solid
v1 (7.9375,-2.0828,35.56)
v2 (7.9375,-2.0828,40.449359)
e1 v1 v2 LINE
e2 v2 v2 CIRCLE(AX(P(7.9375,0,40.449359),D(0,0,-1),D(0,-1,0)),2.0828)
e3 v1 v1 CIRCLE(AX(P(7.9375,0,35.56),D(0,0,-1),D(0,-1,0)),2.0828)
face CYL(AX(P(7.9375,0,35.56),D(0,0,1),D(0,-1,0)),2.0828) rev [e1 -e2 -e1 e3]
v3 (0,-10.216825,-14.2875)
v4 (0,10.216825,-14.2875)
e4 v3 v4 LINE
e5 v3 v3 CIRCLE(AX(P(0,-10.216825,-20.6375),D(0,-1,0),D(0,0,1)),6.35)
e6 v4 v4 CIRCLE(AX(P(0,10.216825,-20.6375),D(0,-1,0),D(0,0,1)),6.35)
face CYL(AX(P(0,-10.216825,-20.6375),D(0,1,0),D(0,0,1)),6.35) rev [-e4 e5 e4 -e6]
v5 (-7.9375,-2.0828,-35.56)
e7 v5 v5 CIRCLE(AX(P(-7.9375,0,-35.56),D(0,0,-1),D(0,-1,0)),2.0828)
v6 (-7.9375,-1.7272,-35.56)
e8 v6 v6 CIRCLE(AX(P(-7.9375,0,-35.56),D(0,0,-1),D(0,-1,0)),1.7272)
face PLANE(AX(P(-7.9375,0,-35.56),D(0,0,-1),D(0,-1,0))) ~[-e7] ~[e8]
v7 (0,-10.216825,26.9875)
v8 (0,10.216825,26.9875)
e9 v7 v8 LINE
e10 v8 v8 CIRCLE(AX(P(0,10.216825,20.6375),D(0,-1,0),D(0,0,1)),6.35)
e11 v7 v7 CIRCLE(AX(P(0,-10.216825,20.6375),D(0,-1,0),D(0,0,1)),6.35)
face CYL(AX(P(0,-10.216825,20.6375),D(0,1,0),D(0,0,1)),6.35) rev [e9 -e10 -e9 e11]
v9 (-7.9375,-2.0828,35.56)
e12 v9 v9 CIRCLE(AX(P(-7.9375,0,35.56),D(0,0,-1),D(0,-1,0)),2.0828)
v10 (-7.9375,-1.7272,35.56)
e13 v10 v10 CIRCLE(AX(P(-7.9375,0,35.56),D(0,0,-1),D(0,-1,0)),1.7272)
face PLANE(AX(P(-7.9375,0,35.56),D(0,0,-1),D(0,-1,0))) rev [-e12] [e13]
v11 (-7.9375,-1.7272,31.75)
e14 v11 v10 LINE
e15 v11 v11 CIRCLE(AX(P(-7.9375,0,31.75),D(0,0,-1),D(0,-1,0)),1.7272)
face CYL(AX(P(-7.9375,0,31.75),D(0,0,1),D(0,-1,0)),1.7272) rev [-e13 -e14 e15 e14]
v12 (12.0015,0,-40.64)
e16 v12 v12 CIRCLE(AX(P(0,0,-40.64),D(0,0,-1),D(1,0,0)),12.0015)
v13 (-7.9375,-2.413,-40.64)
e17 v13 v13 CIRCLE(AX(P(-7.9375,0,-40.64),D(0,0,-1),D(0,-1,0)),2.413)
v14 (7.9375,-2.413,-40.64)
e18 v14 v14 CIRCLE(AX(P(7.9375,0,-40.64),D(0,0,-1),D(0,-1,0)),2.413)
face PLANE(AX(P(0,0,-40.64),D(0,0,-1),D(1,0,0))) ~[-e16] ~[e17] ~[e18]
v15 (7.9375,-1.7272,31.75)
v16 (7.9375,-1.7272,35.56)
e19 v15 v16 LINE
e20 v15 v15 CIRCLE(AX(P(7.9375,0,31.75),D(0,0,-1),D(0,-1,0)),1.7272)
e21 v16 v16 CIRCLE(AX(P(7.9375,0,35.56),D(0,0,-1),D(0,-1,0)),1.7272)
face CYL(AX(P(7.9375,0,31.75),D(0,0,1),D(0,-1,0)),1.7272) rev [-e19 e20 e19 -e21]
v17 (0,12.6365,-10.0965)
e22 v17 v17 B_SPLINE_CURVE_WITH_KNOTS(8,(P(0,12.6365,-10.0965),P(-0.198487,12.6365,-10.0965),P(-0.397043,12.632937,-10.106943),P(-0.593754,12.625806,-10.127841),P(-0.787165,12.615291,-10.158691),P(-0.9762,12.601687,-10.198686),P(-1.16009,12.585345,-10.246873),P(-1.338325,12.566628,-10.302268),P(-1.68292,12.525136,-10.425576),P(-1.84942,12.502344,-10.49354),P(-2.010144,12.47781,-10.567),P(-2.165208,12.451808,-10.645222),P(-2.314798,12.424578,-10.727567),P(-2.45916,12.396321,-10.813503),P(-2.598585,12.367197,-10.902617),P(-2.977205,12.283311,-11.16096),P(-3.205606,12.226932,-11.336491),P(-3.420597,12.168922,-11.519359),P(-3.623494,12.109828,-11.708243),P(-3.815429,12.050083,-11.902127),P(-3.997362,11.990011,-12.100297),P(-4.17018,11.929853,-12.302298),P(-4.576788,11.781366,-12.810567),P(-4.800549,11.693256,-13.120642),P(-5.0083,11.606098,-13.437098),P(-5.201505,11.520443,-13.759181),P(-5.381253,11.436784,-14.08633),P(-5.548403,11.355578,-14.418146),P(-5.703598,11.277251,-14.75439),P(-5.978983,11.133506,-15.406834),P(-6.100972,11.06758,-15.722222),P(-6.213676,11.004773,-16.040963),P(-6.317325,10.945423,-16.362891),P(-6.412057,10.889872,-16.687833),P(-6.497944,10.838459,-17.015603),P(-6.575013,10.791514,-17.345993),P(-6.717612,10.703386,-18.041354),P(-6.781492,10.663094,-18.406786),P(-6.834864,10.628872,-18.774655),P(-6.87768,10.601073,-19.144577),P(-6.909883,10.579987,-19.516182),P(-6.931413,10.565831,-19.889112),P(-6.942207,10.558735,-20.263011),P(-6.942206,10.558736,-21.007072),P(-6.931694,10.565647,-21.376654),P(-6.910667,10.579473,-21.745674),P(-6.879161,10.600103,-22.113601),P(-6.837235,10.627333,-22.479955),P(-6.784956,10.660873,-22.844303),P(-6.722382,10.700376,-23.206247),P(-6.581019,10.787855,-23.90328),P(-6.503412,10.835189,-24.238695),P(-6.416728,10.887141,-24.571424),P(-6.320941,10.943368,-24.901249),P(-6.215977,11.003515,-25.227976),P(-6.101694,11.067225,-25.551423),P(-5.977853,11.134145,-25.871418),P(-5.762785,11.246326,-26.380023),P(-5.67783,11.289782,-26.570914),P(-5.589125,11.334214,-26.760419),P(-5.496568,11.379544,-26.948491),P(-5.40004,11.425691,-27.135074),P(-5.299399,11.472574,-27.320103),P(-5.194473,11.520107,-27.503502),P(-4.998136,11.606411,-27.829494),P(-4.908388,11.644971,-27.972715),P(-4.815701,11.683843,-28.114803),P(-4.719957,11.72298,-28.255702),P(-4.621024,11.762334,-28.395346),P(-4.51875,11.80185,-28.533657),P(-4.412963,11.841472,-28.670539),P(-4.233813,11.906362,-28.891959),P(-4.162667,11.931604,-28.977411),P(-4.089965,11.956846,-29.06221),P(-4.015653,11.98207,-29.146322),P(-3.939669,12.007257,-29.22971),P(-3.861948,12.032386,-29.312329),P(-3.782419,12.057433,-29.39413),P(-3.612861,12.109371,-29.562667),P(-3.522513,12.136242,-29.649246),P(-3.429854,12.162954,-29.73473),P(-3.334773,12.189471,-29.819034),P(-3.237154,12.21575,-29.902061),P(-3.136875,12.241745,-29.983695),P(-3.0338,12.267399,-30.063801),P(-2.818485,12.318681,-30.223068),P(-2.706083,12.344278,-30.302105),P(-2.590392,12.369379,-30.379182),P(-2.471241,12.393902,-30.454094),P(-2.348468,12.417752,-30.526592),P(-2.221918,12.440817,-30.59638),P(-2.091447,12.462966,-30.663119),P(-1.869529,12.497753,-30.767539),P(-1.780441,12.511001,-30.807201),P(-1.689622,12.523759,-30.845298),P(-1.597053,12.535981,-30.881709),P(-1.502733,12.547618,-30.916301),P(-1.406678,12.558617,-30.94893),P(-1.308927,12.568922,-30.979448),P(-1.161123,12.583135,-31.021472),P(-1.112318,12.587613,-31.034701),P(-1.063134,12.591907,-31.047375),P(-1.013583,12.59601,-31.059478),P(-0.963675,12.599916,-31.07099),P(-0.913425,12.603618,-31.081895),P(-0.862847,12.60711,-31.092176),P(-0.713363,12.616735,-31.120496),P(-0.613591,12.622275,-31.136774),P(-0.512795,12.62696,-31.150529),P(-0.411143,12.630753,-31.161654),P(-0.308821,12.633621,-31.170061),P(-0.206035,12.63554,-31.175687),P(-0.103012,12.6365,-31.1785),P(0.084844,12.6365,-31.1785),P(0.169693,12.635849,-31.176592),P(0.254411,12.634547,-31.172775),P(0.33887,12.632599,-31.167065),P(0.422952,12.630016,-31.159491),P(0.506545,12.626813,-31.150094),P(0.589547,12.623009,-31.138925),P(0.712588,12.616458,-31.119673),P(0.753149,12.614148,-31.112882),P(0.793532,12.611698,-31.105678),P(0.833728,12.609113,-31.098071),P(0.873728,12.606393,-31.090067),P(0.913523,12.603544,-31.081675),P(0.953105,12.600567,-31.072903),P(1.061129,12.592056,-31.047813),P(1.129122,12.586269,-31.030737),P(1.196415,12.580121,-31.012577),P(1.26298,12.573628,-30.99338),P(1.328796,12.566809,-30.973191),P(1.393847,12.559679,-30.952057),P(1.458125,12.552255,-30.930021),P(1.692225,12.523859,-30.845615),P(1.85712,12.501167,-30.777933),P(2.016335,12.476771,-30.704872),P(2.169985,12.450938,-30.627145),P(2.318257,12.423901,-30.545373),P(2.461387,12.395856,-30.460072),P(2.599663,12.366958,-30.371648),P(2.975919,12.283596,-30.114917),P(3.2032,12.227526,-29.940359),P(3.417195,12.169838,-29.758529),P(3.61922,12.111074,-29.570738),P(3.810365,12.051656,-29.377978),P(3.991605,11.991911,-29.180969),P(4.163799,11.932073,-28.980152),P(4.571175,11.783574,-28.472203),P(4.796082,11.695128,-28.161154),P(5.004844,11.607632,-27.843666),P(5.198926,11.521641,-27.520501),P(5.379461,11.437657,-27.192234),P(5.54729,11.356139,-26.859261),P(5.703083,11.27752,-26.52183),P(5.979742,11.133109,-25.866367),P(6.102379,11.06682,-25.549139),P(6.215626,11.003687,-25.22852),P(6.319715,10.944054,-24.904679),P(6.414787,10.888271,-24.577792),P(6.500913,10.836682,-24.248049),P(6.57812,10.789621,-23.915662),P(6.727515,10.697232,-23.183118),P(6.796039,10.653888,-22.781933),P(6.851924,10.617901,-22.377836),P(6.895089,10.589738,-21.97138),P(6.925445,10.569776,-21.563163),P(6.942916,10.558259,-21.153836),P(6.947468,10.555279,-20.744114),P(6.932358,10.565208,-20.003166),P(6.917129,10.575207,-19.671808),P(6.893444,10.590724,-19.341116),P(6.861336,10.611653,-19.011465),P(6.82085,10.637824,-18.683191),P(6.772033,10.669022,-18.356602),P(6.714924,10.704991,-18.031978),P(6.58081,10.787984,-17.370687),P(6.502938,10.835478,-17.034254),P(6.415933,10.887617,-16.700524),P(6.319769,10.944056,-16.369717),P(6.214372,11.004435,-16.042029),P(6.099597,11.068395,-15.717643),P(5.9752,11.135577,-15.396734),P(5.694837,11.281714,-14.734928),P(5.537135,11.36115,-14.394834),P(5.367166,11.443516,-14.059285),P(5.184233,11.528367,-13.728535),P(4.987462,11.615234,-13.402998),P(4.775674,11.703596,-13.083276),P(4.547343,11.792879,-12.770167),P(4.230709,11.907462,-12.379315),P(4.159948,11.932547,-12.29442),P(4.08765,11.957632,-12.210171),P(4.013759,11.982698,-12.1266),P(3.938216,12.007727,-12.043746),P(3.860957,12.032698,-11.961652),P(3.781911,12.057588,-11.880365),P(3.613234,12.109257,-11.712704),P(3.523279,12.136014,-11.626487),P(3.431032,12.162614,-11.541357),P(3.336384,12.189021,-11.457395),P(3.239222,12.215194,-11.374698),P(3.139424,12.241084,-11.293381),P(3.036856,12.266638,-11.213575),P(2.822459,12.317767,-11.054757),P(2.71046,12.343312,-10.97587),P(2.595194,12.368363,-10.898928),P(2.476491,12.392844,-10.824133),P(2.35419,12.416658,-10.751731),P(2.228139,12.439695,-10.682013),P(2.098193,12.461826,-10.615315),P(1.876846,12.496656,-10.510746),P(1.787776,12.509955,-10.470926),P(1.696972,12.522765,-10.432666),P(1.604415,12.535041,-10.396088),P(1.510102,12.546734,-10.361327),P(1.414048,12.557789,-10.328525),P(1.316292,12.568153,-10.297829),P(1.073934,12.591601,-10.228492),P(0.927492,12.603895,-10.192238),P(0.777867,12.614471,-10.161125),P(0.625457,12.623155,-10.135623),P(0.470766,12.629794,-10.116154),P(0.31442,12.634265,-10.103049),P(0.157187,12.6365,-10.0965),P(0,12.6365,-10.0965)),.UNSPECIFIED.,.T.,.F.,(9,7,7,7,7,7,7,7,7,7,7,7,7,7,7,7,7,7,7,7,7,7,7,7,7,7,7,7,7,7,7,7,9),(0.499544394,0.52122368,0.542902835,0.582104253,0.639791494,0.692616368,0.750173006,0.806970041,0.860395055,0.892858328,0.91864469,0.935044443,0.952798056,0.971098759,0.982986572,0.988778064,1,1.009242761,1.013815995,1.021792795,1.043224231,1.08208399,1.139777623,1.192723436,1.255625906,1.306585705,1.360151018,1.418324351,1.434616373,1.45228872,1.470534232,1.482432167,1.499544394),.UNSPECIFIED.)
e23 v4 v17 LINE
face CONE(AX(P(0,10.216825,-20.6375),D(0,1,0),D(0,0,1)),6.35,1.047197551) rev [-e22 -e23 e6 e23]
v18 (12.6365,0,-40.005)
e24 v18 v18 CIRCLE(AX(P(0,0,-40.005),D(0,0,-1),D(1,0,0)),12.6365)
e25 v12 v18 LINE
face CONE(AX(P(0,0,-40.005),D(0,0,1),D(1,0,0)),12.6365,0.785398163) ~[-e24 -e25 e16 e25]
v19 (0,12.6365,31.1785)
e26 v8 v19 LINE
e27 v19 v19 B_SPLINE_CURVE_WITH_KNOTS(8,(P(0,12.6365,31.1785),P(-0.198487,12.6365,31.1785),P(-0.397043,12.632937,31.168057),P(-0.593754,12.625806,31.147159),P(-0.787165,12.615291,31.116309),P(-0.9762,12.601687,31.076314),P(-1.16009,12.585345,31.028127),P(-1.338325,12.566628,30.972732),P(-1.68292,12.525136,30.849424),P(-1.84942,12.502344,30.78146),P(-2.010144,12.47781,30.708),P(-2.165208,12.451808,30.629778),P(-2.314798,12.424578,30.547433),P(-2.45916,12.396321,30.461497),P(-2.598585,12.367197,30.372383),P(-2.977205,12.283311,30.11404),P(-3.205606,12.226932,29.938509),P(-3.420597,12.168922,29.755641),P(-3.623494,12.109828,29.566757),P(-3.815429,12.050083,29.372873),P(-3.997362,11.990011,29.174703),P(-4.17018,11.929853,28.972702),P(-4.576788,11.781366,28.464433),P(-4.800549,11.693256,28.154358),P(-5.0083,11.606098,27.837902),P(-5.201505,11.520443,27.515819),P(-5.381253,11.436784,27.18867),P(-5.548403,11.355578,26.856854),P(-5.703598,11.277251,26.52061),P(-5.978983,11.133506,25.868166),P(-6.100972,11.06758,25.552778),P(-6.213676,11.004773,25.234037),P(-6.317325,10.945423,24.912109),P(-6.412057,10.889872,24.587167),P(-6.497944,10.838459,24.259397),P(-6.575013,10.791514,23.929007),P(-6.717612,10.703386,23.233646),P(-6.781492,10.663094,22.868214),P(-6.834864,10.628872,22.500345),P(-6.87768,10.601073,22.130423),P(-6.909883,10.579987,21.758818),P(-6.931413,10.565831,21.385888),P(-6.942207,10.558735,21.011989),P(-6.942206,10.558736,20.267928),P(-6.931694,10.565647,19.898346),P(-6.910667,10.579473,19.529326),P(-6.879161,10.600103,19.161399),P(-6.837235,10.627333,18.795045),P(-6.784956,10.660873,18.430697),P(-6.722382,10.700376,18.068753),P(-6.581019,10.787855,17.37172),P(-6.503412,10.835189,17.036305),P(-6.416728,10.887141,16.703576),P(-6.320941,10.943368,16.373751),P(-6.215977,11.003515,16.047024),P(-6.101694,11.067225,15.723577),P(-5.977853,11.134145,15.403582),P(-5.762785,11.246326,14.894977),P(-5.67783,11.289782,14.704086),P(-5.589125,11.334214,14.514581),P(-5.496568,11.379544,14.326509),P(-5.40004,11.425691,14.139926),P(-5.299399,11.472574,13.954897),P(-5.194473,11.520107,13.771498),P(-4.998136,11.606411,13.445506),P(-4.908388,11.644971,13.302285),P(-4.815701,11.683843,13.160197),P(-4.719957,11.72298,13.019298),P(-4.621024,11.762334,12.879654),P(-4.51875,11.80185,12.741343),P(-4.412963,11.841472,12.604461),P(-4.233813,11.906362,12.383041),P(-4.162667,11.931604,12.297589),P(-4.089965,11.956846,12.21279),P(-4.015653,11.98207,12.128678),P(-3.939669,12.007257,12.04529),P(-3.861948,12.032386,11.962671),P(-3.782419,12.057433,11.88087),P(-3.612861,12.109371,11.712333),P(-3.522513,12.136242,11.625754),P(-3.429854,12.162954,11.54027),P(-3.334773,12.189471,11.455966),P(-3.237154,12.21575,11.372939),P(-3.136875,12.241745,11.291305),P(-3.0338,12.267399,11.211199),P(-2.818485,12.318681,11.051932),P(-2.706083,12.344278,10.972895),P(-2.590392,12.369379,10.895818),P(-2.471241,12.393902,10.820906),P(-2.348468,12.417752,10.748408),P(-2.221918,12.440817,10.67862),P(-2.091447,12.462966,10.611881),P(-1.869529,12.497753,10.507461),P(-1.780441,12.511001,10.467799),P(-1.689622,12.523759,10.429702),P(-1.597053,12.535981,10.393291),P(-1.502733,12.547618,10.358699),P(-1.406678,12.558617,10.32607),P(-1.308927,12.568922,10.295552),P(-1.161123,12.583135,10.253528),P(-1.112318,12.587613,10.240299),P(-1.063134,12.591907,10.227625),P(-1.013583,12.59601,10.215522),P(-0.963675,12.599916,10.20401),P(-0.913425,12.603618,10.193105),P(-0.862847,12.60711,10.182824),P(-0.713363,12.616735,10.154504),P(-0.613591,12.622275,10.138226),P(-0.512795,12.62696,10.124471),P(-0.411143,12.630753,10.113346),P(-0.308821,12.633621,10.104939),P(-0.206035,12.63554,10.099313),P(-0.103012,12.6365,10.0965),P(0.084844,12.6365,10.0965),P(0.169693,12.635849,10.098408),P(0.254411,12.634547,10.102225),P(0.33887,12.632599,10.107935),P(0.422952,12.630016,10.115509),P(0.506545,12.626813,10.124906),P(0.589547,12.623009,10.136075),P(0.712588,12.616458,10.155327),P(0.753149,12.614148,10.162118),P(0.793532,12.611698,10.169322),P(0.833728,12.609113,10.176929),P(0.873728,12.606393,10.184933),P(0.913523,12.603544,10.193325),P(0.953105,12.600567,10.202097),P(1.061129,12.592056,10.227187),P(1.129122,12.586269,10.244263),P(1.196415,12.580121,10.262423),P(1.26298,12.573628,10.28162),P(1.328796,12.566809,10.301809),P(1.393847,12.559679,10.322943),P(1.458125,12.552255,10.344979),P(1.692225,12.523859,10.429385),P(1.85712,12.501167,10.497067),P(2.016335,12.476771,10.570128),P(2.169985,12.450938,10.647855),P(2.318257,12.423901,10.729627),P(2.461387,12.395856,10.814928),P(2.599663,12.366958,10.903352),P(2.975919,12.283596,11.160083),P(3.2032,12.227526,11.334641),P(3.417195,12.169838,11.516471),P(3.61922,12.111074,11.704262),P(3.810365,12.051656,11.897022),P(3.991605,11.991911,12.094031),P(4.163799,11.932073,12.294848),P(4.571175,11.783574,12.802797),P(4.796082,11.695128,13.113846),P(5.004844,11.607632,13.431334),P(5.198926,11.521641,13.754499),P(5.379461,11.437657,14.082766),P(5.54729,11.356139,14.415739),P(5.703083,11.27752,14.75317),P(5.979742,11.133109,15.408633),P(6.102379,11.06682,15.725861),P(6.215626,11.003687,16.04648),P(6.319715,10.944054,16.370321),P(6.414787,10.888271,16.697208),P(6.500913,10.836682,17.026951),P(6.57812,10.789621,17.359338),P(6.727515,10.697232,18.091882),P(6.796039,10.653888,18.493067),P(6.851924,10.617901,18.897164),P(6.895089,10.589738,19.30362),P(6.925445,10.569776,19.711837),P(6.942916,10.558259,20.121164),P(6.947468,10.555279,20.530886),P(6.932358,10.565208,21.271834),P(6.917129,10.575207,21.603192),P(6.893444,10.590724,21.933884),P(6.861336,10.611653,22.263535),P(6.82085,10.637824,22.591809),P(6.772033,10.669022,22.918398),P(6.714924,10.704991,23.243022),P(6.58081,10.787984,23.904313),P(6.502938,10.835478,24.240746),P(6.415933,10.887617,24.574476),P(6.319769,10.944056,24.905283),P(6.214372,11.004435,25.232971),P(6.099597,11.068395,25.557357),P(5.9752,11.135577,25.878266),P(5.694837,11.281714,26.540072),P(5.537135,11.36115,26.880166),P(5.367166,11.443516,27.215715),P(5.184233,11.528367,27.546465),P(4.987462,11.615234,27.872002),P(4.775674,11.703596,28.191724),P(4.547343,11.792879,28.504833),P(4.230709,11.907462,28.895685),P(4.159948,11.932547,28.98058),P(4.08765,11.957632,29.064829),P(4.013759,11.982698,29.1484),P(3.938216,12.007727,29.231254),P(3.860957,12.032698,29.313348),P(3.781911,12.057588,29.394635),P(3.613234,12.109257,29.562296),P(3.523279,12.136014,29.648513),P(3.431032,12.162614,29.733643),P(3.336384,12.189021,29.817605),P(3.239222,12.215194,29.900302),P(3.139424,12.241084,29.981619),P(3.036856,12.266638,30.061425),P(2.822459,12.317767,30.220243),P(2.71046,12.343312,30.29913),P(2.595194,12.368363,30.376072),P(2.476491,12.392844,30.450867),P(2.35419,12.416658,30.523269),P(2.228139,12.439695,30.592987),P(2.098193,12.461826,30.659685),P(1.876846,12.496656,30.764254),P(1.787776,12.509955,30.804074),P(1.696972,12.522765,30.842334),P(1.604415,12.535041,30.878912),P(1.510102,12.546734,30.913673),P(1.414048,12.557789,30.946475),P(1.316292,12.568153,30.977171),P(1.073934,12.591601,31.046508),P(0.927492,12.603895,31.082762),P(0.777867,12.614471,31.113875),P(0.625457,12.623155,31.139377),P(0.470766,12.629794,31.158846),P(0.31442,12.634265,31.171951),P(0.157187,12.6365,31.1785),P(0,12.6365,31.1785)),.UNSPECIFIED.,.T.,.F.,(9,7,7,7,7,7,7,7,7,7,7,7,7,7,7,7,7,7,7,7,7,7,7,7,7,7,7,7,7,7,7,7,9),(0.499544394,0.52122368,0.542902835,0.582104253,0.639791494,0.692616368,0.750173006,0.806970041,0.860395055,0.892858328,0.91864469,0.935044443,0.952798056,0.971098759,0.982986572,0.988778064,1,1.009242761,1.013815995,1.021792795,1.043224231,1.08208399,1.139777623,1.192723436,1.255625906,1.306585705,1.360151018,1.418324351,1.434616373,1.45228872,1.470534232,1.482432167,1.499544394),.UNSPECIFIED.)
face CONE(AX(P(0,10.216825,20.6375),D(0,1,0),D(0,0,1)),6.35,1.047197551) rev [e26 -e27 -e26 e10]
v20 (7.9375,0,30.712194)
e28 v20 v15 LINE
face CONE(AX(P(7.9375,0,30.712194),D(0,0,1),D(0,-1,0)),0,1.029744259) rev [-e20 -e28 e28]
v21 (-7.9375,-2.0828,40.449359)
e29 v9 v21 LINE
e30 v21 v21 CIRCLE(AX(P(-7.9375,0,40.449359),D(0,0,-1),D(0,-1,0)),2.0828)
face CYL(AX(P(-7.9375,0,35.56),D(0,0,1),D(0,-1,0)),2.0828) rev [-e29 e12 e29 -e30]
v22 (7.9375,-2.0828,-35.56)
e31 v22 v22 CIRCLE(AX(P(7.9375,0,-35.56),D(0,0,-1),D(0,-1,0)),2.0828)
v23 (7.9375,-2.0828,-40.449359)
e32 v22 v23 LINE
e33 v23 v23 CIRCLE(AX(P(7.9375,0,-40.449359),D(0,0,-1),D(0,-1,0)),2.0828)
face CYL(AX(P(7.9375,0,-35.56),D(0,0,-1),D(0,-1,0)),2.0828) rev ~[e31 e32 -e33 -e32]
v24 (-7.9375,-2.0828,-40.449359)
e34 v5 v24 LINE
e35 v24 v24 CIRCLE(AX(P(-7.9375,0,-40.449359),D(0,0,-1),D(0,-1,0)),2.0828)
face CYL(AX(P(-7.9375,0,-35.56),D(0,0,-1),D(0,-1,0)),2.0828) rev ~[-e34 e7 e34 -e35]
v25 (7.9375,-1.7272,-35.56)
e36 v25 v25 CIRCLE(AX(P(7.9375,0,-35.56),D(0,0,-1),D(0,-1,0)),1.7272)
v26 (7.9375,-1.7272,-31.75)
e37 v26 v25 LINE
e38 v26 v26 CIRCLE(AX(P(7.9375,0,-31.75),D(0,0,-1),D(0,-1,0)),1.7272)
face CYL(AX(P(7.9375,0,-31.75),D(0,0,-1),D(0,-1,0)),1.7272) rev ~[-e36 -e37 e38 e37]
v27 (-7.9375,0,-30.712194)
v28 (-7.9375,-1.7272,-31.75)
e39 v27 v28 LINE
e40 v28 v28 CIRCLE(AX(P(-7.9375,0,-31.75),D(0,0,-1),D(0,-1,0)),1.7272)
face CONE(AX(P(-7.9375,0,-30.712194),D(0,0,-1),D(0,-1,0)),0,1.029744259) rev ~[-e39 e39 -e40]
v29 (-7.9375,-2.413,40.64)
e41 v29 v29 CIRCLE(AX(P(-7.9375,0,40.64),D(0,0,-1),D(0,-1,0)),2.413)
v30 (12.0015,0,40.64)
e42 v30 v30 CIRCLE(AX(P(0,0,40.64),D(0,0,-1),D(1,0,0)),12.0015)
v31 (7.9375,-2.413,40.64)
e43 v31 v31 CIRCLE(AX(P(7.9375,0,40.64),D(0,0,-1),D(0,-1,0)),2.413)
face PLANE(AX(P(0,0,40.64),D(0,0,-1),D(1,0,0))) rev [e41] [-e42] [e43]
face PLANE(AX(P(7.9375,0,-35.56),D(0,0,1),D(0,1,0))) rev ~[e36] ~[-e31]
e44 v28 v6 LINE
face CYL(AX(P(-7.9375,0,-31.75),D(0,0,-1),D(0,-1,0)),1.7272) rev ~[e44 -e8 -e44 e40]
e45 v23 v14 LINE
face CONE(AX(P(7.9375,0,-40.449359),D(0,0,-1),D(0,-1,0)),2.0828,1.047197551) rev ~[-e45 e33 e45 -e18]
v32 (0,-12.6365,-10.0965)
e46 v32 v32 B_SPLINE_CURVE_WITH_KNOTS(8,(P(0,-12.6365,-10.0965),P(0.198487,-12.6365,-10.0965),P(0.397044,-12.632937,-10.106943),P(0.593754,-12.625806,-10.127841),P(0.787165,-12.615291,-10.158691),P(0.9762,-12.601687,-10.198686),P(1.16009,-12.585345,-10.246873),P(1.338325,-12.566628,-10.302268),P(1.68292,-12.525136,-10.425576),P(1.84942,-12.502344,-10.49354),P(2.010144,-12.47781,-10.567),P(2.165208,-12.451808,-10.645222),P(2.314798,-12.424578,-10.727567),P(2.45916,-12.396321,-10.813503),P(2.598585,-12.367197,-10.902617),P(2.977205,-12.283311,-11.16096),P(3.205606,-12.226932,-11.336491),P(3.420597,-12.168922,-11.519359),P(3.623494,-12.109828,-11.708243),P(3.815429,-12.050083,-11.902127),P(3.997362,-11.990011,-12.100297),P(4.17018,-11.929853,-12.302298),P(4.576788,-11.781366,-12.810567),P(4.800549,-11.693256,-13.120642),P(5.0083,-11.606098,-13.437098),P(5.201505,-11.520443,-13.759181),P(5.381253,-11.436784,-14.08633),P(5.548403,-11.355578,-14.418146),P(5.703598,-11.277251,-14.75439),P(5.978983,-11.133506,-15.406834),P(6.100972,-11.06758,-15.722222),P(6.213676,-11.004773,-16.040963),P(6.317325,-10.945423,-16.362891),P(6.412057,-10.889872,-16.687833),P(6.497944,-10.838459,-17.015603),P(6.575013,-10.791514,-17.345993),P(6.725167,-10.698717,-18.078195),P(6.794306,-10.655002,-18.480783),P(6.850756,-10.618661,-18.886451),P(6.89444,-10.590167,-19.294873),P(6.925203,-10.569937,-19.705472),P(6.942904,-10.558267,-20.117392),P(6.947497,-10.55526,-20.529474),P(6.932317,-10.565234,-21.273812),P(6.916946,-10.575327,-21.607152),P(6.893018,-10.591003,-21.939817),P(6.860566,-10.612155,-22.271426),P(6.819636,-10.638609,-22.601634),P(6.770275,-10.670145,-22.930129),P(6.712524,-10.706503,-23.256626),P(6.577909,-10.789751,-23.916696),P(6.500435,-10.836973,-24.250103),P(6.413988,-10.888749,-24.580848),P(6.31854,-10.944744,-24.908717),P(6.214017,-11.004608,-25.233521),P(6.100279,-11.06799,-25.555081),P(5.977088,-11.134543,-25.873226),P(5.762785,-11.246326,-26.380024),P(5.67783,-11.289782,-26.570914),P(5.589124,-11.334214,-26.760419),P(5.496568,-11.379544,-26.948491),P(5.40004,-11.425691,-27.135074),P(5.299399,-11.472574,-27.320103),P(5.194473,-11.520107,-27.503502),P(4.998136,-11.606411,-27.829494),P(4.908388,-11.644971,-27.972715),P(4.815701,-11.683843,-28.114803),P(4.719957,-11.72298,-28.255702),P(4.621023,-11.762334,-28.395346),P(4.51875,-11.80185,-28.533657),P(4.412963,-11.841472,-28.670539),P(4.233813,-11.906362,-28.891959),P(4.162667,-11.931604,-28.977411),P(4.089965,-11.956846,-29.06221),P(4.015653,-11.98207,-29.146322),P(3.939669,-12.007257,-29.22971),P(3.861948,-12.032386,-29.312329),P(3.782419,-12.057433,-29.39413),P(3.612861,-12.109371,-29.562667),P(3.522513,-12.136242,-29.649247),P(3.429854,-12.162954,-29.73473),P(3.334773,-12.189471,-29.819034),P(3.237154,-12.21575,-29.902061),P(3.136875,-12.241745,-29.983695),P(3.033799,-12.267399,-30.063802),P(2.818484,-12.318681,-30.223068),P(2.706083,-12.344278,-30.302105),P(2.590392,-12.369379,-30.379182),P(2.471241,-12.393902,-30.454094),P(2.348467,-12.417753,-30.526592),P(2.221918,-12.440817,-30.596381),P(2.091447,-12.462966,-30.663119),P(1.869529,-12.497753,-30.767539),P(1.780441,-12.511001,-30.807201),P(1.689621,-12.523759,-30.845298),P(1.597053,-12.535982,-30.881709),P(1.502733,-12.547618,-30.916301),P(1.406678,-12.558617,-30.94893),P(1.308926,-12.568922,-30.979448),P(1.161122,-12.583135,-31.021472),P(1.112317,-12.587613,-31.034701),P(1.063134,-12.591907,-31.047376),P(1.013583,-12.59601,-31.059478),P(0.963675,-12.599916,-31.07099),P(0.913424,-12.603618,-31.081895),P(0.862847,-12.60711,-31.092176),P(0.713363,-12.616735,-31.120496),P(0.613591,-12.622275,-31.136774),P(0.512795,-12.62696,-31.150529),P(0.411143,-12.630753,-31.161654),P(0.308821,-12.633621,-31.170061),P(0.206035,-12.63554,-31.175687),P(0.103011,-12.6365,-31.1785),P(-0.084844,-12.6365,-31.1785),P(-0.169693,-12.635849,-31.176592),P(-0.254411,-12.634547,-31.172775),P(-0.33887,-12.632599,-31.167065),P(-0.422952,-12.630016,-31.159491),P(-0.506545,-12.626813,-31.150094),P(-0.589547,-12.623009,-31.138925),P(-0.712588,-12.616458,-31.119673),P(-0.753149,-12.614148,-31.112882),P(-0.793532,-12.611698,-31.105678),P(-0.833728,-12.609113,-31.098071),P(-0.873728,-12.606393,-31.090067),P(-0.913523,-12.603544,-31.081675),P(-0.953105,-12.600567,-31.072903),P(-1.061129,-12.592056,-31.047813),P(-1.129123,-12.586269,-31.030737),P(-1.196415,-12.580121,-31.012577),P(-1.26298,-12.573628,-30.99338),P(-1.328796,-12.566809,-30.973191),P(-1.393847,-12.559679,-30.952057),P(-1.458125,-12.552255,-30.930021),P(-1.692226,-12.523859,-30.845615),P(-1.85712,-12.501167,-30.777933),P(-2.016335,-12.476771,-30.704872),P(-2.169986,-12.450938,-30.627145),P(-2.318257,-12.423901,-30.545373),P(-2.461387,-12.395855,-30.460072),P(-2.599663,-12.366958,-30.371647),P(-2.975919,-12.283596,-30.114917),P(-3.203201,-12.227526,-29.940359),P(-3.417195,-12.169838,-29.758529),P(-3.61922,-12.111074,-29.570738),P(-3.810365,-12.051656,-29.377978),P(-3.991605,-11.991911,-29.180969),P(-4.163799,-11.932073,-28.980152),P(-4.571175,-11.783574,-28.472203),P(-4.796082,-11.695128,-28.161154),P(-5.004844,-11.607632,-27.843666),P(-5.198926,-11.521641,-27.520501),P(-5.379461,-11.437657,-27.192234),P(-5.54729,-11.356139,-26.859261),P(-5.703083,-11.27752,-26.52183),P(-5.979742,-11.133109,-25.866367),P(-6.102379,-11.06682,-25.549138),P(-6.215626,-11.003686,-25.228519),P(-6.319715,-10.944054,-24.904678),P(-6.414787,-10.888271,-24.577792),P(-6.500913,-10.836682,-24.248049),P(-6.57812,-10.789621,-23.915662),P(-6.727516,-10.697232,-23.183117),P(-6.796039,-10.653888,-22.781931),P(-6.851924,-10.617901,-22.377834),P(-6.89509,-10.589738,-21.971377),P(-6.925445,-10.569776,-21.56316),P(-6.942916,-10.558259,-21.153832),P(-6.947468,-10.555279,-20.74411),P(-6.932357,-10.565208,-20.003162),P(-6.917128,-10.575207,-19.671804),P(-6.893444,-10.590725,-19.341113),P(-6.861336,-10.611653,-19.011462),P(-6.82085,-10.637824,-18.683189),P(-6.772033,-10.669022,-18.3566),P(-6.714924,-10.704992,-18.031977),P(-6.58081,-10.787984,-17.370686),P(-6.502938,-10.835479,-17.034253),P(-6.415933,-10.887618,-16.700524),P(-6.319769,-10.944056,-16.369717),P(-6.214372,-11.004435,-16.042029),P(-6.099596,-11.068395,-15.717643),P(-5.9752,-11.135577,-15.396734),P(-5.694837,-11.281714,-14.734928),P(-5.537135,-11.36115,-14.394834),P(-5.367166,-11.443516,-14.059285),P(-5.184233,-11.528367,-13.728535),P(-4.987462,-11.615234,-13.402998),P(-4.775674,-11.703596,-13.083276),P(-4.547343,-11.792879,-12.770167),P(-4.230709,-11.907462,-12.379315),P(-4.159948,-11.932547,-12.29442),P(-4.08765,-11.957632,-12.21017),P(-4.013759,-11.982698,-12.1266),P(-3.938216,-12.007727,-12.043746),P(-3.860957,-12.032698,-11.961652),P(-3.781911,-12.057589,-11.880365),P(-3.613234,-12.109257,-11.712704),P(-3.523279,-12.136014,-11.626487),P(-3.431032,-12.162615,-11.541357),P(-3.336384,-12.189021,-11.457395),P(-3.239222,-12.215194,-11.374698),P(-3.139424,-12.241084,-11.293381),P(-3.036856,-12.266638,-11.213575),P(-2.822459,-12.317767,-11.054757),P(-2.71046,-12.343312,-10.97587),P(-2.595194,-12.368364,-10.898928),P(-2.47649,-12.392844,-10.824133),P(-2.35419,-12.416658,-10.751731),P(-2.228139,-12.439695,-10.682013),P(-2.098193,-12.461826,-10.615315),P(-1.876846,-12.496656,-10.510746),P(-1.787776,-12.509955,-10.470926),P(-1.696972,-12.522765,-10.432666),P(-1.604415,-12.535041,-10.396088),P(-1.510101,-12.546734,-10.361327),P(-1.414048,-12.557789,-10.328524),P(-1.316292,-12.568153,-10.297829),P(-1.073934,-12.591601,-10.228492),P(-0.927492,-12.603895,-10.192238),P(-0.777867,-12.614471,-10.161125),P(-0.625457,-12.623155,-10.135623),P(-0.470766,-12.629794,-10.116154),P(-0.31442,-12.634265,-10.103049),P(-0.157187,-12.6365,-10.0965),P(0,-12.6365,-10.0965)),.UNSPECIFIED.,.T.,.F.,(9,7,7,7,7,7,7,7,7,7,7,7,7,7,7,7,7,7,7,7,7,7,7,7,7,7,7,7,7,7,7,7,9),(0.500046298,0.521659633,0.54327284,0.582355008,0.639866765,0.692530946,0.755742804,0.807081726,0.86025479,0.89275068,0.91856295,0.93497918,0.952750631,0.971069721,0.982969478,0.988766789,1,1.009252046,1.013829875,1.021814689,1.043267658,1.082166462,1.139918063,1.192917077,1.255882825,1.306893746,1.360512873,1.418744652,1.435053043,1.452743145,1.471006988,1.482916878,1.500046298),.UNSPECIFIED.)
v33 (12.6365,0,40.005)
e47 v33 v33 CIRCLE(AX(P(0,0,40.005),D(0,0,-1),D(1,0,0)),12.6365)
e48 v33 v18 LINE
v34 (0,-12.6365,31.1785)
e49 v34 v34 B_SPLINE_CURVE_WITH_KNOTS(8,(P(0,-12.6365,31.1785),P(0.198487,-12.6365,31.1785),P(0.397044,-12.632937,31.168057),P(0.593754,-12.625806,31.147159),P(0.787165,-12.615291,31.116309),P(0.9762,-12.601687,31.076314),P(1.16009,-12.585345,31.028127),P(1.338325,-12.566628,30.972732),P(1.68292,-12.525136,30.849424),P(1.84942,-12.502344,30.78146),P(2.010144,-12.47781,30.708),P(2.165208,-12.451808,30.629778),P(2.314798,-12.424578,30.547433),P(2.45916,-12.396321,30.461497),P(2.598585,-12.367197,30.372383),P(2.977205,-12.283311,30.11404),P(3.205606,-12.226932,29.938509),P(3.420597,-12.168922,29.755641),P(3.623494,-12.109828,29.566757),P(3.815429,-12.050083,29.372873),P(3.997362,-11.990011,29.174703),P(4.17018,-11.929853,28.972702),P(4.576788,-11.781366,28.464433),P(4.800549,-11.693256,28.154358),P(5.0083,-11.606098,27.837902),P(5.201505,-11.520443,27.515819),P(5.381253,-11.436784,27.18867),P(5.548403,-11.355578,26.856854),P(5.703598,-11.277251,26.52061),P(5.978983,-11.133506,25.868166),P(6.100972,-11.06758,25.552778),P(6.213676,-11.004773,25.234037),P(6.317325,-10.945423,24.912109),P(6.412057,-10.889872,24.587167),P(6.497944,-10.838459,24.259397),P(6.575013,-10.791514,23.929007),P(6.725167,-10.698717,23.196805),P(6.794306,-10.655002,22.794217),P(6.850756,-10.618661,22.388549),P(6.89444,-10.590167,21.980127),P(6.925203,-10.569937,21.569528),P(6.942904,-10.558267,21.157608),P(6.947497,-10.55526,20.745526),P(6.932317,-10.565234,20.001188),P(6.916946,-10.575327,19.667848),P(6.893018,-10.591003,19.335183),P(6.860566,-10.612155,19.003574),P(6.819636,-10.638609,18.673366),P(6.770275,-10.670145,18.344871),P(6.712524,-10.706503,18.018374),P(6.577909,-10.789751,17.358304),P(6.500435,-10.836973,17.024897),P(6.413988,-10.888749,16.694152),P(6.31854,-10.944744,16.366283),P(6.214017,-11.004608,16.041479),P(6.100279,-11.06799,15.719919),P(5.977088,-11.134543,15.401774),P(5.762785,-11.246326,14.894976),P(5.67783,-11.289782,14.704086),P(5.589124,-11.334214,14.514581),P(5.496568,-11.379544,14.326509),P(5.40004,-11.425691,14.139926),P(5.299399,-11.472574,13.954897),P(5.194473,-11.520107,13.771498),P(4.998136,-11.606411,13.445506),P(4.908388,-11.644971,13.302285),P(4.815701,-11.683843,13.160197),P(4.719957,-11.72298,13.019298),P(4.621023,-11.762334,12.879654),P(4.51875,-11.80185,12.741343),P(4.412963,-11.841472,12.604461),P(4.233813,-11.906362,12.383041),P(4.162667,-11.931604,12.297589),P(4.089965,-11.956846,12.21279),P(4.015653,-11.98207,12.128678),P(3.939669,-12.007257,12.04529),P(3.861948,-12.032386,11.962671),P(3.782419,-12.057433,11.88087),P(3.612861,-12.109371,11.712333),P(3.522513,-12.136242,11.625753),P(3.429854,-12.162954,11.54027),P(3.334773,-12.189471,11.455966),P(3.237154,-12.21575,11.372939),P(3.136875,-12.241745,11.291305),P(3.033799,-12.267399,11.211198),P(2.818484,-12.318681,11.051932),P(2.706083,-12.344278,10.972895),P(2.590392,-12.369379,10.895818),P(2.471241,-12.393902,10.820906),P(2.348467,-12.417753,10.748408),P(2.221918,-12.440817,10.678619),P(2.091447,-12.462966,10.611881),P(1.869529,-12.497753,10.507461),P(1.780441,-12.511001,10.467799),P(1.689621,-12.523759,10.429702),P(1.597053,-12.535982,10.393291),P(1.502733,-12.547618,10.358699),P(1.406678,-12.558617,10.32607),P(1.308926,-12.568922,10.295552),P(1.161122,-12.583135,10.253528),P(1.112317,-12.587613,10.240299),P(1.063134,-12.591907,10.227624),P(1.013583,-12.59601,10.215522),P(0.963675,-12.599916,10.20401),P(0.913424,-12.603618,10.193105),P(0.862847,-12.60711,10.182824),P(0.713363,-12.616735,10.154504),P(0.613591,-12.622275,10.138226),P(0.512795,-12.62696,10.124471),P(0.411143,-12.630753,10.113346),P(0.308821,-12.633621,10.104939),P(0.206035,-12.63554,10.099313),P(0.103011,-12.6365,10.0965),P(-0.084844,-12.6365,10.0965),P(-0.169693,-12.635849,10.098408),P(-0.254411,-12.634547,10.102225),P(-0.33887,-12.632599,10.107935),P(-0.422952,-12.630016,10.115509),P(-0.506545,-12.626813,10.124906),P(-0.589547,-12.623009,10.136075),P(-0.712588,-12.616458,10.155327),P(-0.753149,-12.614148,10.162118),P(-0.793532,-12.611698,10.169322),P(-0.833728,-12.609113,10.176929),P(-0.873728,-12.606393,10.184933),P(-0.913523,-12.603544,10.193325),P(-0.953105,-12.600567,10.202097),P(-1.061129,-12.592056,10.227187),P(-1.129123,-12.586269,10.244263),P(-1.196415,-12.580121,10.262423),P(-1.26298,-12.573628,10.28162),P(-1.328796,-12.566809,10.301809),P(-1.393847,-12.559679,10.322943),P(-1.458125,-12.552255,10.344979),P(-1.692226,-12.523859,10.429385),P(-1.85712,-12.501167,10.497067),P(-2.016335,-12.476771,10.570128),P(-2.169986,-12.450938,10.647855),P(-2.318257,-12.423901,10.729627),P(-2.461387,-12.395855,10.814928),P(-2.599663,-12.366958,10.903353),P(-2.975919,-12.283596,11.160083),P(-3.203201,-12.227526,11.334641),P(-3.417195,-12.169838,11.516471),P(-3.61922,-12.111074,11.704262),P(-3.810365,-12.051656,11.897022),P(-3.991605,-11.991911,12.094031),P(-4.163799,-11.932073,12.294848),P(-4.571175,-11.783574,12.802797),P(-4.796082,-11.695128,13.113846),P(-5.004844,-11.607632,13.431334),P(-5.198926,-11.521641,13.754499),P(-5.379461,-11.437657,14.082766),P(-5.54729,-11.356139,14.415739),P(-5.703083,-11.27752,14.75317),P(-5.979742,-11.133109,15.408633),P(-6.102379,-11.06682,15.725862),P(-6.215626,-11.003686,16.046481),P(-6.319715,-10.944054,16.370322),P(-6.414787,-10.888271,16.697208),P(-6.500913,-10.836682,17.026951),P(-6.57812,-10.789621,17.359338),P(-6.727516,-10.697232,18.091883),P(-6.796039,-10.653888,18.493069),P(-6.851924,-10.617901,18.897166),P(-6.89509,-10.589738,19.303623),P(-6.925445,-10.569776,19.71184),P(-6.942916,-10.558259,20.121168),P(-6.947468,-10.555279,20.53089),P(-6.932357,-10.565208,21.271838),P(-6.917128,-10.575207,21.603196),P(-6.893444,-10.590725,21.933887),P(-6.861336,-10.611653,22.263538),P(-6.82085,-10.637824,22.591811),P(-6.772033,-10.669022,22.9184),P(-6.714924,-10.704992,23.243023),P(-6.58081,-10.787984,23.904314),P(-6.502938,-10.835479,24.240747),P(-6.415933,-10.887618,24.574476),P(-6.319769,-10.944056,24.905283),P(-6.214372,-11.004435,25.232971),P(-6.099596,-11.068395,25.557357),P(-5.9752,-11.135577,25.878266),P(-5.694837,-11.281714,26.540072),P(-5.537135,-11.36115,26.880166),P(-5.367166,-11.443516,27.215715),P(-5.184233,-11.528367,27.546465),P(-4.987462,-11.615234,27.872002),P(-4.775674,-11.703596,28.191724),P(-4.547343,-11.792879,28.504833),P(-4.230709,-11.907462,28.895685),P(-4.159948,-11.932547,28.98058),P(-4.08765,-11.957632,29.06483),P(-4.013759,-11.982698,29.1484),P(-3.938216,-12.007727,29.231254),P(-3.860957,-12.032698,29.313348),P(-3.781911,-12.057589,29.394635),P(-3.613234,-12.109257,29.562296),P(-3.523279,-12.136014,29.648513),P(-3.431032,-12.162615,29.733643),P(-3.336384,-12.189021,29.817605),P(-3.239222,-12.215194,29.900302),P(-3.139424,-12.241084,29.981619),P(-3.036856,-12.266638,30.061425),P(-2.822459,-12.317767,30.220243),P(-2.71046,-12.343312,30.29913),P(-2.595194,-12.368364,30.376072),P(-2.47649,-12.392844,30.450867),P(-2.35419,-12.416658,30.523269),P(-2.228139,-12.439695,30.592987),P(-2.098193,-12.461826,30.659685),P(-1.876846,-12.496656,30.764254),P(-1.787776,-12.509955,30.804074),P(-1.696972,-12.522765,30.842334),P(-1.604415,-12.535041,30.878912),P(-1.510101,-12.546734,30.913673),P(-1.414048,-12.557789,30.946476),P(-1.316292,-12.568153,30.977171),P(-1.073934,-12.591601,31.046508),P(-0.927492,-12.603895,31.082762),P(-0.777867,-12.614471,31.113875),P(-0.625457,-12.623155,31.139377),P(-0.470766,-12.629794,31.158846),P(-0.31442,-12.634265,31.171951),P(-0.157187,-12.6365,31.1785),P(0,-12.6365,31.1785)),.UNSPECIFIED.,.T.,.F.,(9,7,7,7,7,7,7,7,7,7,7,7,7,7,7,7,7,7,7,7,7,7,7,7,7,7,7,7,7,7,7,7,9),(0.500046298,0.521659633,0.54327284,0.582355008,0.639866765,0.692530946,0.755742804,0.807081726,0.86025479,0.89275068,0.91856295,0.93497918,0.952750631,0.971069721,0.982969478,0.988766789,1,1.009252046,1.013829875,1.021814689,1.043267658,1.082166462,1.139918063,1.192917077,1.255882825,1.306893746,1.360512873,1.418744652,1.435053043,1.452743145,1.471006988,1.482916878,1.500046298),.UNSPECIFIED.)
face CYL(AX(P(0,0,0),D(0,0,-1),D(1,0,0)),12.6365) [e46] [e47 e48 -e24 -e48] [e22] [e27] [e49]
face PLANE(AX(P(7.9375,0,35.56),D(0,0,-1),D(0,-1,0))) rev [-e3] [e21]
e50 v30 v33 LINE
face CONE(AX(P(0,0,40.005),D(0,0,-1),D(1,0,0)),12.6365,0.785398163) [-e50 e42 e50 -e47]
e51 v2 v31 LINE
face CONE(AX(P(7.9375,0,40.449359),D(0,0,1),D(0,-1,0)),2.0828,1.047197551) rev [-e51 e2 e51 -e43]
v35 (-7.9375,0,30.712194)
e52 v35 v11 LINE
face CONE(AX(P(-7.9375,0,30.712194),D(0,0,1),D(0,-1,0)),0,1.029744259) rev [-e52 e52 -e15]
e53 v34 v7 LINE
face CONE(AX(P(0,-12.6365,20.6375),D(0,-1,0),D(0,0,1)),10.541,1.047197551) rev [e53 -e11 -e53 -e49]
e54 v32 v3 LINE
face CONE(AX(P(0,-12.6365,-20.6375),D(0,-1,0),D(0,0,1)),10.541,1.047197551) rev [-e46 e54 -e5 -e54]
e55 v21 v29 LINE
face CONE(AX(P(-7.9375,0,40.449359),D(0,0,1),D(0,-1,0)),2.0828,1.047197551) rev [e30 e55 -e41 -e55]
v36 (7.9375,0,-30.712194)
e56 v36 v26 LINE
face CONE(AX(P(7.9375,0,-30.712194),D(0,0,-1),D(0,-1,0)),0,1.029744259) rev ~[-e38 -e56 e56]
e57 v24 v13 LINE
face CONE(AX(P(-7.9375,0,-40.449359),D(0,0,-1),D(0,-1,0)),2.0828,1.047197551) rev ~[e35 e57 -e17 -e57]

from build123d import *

# Parameters (mm, degrees)
SKETCH1_W                      = 81.28
SKETCH1_H                      = 12.6365
CHAMFER1_SIZE                  = 0.635
LPATTERN3_COUNT                = 2
LPATTERN3_PITCH                = 41.275
F_8_32_TAPPED_HOLE1_AT_2_COUNT = 2
F_8_32_TAPPED_HOLE1_AT_2_PITCH = 15.875


with BuildPart() as part:
    # Sketch1 → Base-Revolve (revolve)
    with BuildSketch(Plane(origin=(0, 0, 0), x_dir=(0, 0, -1), z_dir=(1, 0, 0)), mode=Mode.PRIVATE) as base_revolve_sk:
        with Locations((0, 6.31825)):
            Rectangle(SKETCH1_W, SKETCH1_H)
    revolve(base_revolve_sk.sketch.rotate(Axis((0, 0, 40.64), (0, 0, -1)), 90), axis=Axis((0, 0, 40.64), (0, 0, -1)))  # turned: the seam where the file's is

    # Chamfer1
    chamfer1_edges = [part.edges().sort_by_distance(p)[0] for p in [
        (-12.6365, 0, -40.64),
        (-12.6365, 0, 40.64),
    ]]
    chamfer(chamfer1_edges, length=CHAMFER1_SIZE)

    # Sketch17 → 1_2-13 Tapped Hole1 (revolve, cut)
    with BuildSketch(Plane(origin=(0, 12.6365, -20.6375), x_dir=(0, 0, 1), z_dir=(1, 0, 0))):
        Polygon((0, 0), (0, 25.273), (10.541, 25.273), (6.35, 22.853325022), (6.35, 2.419674978), (10.541, 0), align=None)
    f_1_2_13_tapped_hole1 = revolve(axis=Axis((0, 18.9865, -20.6375), (0, -1, 0)), mode=Mode.SUBTRACT)

    # LPattern3: 1_2-13 Tapped Hole1 ×2
    with Locations(*[(0, 0, i * LPATTERN3_PITCH) for i in range(1, LPATTERN3_COUNT)]):
        add(f_1_2_13_tapped_hole1, mode=Mode.SUBTRACT)

    # Sketch19 → 8-32 Tapped Hole1 (revolve, cut)
    with BuildSketch(Plane(origin=(7.9375, 0, 40.64), x_dir=(0, -1, 0), z_dir=(1, 0, 0))):
        Polygon((0, 0), (0, 9.927806461), (1.7272, 8.89), (1.7272, 5.08), (2.0828, 5.08), (2.0828, 0.190641059), (2.413, 0), align=None)
    f_8_32_tapped_hole1 = revolve(axis=Axis((7.9375, 0, 46.99), (0, 0, -1)), mode=Mode.SUBTRACT)

    # 8-32 Tapped Hole1 at 2: 8-32 Tapped Hole1 ×2
    with Locations(*[(-i * F_8_32_TAPPED_HOLE1_AT_2_PITCH, 0, 0) for i in range(1, F_8_32_TAPPED_HOLE1_AT_2_COUNT)]):
        add(f_8_32_tapped_hole1, mode=Mode.SUBTRACT)

    # Mirror1: 8-32 Tapped Hole1 across plane
    add(f_8_32_tapped_hole1.mirror(Plane.XY), mode=Mode.SUBTRACT)

    # Mirror1 copy 1 sketch → Mirror1 copy 1 (revolve, cut)
    with BuildSketch(Plane(origin=(-7.9375, 0, -40.64), x_dir=(0, -1, 0), z_dir=(1, 0, 0))):
        Polygon((0, 0), (0, -9.927806461), (1.7272, -8.89), (1.7272, -5.08), (2.0828, -5.08), (2.0828, -0.190641059), (2.413, 0), align=None)
    revolve(axis=Axis((-7.9375, 0, -46.99), (0, 0, -1)), mode=Mode.SUBTRACT)


solid = part.part
